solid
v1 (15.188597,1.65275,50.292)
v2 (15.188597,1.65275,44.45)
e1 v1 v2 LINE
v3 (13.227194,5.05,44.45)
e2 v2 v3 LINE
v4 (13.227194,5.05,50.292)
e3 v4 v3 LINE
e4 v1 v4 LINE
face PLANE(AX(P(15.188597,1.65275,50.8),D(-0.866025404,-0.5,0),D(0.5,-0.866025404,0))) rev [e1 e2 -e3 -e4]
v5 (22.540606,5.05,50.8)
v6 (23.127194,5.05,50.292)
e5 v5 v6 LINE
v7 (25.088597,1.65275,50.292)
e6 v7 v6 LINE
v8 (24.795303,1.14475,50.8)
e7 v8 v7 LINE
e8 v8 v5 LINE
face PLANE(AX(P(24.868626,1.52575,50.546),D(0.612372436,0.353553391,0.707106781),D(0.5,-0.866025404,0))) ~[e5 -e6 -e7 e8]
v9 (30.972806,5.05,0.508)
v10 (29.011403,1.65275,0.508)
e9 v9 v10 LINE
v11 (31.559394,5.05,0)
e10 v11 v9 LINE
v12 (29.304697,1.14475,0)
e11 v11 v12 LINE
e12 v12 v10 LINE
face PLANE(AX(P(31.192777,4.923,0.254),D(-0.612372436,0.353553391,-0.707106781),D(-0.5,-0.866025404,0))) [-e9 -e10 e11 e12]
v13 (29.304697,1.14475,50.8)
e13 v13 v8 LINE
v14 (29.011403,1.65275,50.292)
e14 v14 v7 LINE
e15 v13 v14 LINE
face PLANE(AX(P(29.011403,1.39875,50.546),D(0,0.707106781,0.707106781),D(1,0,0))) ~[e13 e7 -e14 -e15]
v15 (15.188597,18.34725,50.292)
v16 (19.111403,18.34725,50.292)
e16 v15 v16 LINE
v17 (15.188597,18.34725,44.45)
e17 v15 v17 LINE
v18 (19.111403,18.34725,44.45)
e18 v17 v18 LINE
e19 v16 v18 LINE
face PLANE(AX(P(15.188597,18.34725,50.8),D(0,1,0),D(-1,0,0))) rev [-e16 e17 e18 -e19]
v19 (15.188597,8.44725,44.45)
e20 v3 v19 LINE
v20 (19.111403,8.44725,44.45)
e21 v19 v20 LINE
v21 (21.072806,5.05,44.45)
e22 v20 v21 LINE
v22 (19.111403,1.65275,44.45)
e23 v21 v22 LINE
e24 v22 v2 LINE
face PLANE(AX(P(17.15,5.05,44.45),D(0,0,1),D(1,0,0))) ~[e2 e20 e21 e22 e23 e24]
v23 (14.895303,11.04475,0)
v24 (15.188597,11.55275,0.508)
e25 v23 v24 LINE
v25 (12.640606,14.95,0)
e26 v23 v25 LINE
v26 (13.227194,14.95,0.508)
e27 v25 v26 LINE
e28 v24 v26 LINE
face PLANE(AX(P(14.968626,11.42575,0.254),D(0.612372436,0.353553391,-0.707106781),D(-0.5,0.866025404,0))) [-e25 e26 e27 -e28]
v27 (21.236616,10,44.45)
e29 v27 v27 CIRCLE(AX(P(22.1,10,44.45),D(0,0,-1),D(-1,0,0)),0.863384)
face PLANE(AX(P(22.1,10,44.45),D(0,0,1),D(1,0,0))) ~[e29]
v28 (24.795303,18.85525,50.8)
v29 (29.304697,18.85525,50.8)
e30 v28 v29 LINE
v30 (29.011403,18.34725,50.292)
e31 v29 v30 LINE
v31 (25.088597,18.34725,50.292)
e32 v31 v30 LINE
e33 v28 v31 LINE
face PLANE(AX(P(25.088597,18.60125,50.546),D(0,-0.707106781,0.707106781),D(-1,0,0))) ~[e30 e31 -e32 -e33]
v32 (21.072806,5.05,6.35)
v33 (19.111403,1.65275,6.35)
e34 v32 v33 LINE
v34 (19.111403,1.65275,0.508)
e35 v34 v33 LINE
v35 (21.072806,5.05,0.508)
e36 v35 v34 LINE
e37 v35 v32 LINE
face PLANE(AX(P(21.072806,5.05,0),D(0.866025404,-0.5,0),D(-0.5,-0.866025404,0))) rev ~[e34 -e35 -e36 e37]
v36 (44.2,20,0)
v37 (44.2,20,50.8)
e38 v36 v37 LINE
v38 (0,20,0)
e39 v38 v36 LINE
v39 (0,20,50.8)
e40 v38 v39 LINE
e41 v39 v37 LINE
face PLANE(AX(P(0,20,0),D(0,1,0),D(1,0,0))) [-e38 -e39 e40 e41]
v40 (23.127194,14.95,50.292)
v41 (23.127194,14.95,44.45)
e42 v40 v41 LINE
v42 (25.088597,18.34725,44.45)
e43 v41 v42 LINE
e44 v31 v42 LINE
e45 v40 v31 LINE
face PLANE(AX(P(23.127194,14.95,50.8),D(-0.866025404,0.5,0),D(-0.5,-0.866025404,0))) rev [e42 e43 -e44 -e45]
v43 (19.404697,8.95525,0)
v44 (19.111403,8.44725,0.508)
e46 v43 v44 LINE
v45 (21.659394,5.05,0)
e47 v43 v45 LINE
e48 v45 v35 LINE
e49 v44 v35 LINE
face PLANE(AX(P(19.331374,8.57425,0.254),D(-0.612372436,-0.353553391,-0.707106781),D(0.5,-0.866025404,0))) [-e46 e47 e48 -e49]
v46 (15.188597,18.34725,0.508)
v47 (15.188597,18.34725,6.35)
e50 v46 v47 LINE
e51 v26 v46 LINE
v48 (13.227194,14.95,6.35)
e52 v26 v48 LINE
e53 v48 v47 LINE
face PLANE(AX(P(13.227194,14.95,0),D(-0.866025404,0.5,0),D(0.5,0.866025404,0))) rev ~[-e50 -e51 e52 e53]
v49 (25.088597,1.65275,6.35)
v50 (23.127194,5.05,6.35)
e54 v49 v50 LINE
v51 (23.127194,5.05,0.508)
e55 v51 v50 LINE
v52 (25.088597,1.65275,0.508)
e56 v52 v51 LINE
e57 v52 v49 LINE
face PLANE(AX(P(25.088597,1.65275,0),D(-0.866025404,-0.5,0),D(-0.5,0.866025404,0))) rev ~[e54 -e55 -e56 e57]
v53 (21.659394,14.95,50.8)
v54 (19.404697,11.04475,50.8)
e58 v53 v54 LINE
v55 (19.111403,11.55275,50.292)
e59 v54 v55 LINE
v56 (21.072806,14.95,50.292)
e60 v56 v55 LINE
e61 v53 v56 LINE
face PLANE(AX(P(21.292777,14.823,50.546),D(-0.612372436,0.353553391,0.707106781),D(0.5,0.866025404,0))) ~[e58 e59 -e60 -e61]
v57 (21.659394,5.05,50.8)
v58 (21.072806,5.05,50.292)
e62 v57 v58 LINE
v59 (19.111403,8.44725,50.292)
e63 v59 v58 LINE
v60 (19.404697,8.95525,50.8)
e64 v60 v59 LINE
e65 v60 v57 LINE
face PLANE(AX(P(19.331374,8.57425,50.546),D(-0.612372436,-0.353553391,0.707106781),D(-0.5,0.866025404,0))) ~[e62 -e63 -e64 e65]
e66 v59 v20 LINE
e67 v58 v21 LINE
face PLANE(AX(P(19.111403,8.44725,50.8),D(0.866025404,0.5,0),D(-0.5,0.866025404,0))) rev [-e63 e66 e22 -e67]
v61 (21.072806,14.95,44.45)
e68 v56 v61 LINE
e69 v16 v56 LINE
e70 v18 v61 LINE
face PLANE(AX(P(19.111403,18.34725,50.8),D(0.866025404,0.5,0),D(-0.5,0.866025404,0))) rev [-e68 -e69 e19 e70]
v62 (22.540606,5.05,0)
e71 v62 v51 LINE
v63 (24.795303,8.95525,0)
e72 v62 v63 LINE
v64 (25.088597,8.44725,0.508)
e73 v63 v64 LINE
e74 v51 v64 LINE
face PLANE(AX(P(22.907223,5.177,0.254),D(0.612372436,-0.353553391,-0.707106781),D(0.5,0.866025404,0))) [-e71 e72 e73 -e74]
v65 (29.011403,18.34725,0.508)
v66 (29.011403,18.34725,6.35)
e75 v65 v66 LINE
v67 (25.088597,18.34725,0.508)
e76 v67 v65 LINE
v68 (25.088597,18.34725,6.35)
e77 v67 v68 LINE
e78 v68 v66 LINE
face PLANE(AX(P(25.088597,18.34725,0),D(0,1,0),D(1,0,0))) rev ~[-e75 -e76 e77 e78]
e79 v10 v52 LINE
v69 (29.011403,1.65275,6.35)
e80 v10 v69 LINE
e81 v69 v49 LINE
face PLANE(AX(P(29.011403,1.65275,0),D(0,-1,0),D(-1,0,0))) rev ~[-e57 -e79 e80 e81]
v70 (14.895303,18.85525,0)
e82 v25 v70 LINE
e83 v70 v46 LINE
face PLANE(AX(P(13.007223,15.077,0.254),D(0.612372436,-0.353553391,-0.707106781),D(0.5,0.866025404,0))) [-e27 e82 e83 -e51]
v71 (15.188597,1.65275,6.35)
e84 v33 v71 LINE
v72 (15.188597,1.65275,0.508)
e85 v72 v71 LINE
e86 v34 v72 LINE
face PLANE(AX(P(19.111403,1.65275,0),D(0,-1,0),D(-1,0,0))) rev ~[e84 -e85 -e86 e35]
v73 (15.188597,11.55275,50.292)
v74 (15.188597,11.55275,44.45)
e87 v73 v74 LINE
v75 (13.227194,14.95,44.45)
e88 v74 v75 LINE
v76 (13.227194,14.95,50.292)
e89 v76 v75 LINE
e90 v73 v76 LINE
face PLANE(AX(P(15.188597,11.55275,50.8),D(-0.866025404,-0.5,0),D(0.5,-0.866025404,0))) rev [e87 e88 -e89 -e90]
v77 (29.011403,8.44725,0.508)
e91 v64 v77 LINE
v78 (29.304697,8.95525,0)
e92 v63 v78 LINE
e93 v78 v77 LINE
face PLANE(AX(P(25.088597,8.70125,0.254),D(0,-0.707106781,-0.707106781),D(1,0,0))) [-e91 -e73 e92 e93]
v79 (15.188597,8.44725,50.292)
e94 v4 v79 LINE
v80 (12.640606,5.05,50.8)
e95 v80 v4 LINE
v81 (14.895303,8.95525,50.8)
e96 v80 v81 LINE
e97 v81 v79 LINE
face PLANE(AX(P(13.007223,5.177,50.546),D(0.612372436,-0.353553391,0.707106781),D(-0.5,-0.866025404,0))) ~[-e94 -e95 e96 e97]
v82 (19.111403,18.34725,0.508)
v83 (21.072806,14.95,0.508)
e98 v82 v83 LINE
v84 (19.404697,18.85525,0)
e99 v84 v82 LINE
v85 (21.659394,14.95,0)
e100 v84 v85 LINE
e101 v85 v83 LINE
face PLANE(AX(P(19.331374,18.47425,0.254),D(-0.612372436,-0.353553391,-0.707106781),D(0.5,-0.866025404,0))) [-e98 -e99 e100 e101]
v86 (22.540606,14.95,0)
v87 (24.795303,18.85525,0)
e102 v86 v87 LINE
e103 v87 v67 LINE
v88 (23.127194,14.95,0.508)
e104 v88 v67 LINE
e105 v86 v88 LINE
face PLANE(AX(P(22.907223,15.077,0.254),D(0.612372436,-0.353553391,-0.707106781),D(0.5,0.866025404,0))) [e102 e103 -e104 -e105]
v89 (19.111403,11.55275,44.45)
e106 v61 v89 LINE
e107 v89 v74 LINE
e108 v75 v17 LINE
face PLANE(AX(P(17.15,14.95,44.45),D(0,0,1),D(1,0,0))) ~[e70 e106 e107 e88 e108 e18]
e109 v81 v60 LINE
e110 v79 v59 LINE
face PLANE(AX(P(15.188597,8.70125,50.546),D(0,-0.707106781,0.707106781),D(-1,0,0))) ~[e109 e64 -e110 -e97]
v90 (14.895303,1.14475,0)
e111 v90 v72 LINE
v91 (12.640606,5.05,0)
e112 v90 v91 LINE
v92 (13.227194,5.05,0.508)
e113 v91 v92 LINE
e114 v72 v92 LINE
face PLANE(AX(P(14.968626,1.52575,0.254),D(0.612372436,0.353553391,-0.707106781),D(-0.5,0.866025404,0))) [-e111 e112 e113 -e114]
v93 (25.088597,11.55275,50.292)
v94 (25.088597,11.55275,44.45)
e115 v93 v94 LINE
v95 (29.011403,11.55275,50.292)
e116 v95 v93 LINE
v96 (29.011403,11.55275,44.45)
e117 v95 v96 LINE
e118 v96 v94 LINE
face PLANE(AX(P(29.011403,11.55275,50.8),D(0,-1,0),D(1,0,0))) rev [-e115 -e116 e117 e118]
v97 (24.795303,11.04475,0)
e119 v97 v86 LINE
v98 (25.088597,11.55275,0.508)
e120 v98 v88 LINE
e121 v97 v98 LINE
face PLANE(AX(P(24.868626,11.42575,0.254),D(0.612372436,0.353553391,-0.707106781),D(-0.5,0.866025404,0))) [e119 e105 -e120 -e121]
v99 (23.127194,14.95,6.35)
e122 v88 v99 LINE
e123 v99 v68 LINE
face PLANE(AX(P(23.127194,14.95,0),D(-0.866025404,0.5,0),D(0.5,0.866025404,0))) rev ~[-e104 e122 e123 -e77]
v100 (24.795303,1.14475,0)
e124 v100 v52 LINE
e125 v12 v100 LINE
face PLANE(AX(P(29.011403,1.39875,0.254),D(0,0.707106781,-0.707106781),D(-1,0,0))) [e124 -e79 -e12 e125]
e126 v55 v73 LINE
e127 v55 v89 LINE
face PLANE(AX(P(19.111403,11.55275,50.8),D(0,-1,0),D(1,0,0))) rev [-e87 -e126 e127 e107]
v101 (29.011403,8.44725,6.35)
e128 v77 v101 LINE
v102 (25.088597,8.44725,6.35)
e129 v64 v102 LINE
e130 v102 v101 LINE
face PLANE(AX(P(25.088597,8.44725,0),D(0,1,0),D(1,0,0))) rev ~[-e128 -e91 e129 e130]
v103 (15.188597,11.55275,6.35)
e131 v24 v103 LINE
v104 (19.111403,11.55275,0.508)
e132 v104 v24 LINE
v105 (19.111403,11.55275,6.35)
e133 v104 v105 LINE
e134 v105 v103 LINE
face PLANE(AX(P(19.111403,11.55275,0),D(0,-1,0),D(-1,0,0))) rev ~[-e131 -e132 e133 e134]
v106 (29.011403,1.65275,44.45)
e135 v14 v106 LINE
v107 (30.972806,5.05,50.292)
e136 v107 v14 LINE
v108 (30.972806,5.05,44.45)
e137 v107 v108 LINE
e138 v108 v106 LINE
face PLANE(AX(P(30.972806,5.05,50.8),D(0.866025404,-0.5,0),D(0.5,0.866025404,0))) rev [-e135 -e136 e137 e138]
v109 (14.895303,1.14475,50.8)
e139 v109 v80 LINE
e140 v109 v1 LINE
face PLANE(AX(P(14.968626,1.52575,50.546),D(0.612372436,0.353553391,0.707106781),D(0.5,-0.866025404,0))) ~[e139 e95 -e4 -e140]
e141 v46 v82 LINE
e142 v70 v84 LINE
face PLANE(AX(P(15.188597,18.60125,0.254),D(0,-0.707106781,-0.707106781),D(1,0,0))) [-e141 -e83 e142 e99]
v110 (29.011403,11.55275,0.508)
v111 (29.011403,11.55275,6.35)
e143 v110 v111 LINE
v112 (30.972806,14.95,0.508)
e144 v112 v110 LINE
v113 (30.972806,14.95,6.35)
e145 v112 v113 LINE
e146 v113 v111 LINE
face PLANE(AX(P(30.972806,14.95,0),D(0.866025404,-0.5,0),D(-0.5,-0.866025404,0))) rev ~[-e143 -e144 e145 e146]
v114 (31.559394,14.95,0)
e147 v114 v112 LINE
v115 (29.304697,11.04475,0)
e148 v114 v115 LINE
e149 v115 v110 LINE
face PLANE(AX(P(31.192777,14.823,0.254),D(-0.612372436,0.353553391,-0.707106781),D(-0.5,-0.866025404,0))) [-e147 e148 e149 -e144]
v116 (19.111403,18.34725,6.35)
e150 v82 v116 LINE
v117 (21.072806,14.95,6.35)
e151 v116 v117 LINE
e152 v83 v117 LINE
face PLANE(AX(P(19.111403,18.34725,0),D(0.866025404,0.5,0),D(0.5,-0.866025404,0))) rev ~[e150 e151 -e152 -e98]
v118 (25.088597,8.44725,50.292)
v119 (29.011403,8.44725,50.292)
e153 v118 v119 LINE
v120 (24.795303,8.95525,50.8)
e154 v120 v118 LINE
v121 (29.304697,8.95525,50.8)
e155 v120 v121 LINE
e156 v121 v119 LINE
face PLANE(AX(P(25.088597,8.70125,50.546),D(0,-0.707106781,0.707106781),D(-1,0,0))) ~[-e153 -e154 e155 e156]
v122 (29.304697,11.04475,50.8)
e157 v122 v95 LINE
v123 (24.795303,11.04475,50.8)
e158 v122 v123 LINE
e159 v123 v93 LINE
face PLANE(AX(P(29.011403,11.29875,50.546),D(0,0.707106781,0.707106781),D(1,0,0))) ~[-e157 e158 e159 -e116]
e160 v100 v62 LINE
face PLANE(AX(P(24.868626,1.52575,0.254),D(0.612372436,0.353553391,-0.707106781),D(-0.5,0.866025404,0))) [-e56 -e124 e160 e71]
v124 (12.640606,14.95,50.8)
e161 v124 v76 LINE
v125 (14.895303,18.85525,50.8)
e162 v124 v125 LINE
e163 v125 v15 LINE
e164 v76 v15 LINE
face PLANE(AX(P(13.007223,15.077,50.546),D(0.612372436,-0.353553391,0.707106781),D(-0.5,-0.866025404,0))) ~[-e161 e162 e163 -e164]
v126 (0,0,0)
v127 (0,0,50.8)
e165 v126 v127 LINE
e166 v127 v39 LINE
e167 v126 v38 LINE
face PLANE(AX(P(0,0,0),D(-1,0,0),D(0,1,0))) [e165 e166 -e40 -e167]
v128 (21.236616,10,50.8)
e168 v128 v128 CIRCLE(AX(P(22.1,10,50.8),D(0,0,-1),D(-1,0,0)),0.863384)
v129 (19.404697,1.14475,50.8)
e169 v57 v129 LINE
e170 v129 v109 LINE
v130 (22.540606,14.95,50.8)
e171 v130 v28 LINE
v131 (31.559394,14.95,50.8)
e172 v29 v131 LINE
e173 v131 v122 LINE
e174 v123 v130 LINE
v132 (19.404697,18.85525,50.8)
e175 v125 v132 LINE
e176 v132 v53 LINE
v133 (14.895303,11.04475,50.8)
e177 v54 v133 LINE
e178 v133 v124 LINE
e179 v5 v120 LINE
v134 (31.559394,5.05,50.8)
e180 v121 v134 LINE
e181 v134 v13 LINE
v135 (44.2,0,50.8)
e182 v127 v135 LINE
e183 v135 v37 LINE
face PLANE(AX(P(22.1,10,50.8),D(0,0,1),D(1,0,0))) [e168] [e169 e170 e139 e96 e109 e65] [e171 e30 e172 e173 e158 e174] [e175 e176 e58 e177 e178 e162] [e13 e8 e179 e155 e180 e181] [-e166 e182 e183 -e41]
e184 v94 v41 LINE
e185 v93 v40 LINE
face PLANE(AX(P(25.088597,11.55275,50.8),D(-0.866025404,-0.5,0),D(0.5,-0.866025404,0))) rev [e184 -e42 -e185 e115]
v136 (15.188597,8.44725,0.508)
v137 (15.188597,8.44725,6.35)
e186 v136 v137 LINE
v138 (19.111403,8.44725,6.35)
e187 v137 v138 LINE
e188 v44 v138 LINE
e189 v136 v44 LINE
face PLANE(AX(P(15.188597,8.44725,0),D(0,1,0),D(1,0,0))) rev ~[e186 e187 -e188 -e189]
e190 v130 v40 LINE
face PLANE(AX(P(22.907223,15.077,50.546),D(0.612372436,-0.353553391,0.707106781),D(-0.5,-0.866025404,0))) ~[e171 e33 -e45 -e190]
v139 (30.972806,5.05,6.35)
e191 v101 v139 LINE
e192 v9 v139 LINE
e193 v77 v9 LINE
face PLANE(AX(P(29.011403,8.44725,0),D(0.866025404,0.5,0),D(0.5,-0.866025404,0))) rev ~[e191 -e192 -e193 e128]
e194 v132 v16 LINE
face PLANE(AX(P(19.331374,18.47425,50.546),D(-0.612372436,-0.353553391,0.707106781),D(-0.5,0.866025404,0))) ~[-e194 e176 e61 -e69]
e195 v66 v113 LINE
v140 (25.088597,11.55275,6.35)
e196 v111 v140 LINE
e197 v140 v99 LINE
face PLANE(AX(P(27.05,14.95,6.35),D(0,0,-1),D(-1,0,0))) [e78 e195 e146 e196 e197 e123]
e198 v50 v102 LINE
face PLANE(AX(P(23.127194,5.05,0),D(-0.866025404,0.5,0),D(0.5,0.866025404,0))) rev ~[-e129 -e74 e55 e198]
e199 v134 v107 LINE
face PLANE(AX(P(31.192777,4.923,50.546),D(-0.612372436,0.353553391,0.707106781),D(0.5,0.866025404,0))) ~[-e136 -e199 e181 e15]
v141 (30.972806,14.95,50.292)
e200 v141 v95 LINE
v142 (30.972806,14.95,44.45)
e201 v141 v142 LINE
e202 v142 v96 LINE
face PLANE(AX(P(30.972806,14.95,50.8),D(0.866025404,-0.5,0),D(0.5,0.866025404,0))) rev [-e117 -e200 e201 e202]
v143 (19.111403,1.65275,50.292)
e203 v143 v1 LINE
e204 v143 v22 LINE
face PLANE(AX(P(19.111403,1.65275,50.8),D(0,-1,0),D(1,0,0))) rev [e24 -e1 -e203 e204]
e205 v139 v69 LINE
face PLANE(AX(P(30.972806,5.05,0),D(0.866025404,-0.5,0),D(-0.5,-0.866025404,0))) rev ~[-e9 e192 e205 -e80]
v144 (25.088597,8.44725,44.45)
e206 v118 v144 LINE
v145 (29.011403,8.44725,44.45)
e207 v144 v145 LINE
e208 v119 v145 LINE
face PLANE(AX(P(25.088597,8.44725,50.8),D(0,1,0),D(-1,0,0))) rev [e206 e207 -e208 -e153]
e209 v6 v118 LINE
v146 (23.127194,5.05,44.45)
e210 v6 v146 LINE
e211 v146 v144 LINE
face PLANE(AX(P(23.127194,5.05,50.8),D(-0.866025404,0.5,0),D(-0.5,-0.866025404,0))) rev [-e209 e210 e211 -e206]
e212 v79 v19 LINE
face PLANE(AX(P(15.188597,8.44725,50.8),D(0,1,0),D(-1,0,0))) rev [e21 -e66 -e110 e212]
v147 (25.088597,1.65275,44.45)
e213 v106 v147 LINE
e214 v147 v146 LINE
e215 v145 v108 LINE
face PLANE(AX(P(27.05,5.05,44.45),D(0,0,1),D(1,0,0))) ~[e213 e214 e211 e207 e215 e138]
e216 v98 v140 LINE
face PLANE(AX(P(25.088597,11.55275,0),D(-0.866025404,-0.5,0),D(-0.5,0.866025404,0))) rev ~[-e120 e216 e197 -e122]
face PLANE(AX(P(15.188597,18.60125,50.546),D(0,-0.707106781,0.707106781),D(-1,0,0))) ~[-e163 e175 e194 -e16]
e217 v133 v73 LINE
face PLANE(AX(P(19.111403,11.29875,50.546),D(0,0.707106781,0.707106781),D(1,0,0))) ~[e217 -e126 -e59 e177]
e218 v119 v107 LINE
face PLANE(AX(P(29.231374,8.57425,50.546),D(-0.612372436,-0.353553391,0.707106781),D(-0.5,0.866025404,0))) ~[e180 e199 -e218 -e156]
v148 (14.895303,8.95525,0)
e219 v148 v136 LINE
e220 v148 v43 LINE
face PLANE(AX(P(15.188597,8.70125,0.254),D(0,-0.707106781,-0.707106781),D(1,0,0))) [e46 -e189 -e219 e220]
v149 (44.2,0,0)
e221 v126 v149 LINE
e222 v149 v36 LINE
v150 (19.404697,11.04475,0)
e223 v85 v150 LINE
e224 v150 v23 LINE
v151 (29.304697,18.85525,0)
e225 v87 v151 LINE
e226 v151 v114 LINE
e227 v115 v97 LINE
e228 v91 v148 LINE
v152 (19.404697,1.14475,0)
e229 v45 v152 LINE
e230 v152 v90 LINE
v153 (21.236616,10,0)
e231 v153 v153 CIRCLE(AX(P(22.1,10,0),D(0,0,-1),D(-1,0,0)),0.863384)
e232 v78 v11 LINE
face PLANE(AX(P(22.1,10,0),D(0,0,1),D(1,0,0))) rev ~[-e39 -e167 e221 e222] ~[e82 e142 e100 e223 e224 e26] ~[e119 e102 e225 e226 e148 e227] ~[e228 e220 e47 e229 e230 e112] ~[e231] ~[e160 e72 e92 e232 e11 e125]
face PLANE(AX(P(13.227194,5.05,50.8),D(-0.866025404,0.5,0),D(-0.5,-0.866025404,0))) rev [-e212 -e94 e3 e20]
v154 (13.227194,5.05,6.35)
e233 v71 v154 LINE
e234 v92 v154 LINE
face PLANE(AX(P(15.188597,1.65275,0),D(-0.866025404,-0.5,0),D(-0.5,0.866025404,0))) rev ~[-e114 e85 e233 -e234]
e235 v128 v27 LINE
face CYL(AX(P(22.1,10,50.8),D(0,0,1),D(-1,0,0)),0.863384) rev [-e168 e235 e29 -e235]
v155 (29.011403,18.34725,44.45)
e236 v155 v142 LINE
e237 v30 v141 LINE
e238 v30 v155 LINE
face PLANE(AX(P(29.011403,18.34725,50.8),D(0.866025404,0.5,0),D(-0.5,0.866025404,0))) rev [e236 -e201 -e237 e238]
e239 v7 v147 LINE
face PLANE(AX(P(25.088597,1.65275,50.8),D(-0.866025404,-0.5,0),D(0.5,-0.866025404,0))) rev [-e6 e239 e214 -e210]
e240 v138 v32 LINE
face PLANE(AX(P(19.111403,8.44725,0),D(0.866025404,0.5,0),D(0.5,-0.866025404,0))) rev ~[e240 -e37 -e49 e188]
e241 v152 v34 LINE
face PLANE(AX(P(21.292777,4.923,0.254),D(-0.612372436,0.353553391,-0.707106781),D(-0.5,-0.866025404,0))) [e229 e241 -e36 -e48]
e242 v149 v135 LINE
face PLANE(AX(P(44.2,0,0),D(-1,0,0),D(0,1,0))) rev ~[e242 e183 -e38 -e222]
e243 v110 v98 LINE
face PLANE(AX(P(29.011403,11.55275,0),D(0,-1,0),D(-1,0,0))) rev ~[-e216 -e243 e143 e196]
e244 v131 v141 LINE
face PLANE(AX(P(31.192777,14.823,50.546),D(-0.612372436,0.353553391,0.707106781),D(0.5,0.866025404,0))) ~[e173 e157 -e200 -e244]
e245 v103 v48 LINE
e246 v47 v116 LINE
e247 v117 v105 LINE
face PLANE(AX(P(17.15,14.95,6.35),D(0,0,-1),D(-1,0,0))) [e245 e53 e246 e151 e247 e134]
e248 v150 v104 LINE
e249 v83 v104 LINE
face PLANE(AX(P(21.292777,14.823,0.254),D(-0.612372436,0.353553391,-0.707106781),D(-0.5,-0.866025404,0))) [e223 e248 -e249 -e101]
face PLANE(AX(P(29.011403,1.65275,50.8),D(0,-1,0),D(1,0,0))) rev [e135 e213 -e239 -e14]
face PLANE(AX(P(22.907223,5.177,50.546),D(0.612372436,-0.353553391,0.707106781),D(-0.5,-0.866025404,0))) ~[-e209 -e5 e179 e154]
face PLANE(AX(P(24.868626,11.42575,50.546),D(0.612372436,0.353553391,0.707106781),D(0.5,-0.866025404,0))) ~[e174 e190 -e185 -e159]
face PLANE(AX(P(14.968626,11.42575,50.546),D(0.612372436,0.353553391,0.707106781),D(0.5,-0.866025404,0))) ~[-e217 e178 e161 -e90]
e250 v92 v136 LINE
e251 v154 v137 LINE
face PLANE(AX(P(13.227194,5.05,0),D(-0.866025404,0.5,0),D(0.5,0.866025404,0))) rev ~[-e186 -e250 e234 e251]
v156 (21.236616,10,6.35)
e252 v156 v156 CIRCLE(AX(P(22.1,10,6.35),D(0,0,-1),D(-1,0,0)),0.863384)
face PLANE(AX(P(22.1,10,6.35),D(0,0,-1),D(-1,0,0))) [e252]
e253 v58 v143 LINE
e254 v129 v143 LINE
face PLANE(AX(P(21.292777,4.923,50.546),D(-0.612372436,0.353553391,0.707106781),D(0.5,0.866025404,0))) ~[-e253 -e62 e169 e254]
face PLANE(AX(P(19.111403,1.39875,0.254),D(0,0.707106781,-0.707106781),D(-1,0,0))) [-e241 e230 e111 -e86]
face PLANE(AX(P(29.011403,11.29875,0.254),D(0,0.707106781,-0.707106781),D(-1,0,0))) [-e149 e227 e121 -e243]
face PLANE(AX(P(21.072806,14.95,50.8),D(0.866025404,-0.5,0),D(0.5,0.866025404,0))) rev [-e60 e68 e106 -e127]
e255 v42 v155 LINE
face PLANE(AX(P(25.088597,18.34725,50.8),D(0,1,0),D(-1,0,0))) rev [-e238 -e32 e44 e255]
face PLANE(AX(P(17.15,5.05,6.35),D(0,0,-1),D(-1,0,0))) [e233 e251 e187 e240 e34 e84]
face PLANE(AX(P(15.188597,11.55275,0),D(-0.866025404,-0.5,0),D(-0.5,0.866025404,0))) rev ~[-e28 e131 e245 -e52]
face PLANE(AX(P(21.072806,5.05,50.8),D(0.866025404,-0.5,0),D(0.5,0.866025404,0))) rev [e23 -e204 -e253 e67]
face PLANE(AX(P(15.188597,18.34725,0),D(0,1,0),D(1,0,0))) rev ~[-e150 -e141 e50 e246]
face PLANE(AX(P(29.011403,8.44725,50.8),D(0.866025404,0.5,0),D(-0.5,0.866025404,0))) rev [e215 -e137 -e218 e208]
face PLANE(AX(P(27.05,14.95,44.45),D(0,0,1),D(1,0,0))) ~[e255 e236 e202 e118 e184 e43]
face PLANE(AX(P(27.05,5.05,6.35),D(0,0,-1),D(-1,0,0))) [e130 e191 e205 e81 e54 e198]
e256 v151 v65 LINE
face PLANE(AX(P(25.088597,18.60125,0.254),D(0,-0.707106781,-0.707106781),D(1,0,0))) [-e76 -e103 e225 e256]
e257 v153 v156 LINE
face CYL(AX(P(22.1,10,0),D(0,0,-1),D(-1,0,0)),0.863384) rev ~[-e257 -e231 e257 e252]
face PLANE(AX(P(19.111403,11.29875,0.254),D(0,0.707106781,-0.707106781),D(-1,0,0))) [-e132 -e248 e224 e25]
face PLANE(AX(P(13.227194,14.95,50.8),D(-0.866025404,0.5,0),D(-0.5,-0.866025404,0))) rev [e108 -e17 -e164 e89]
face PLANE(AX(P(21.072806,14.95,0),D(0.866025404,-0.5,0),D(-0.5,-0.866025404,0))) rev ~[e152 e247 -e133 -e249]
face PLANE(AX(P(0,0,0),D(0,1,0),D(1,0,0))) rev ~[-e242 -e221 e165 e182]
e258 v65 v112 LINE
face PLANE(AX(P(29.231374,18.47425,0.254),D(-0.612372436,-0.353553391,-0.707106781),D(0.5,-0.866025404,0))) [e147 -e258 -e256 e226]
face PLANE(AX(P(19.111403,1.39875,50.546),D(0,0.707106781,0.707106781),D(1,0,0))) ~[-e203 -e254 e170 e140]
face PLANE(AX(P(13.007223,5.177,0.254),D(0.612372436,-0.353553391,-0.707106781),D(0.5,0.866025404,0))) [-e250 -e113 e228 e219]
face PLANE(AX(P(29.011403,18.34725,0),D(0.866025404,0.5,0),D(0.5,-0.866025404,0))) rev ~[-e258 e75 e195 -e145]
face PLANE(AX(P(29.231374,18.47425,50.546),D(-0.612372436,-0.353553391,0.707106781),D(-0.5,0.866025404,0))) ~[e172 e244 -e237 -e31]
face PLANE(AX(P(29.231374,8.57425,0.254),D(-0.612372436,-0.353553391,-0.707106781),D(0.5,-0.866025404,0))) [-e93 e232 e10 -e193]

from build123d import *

# Parameters (mm, degrees)
SKETCH1_W                = 44.2
SKETCH1_H                = 20
BOSS_EXTRUDE1_DEPTH      = 50.8
SKETCH2_R                = 0.863384433
CUT_EXTRUDE1_DEPTH       = 6.35
CHAMFER1_SIZE            = 0.508
CHAMFER1_OF_MIRROR2_SIZE = 0.508


with BuildPart() as part:
    # Sketch1 → Boss-Extrude1 (new body)
    with BuildSketch(Plane.XY):
        with Locations((22.1, 10)):
            Rectangle(SKETCH1_W, SKETCH1_H)
    extrude(amount=BOSS_EXTRUDE1_DEPTH)

    # Sketch2 → Cut-Extrude1 (cut)
    with BuildSketch(Plane(origin=(0, 0, 0), x_dir=(-1, 0, 0), z_dir=(0, 0, -1))):
        with Locations((-22.1, 10)):
            Circle(SKETCH2_R)
        Polygon((-25.088596798, 18.34725), (-29.011403202, 18.34725), (-30.972806404, 14.95), (-29.011403202, 11.55275), (-25.088596798, 11.55275), (-23.127193596, 14.95), align=None)
        Polygon((-15.188596798, 18.34725), (-19.111403202, 18.34725), (-21.072806404, 14.95), (-19.111403202, 11.55275), (-15.188596798, 11.55275), (-13.227193596, 14.95), align=None)
        Polygon((-15.188596798, 8.44725), (-19.111403202, 8.44725), (-21.072806404, 5.05), (-19.111403202, 1.65275), (-15.188596798, 1.65275), (-13.227193596, 5.05), align=None)
        Polygon((-25.088596798, 8.44725), (-29.011403202, 8.44725), (-30.972806404, 5.05), (-29.011403202, 1.65275), (-25.088596798, 1.65275), (-23.127193596, 5.05), align=None)
    cut_extrude1 = extrude(amount=-CUT_EXTRUDE1_DEPTH, mode=Mode.SUBTRACT)

    # Chamfer1
    chamfer1_edges = [part.edges().sort_by_distance(p)[0] for p in [
        (24.107895197, 6.748625, 0),
        (27.05, 8.44725, 0),
        (29.992104803, 6.748625, 0),
        (29.992104803, 3.351375, 0),
        (27.05, 1.65275, 0),
        (24.107895197, 3.351375, 0),
        (14.207895197, 6.748625, 0),
        (17.15, 8.44725, 0),
        (20.092104803, 6.748625, 0),
        (20.092104803, 3.351375, 0),
        (17.15, 1.65275, 0),
        (14.207895197, 3.351375, 0),
        (14.207895197, 16.648625, 0),
        (17.15, 18.34725, 0),
        (20.092104803, 16.648625, 0),
        (20.092104803, 13.251375, 0),
        (17.15, 11.55275, 0),
        (14.207895197, 13.251375, 0),
        (24.107895197, 16.648625, 0),
        (27.05, 18.34725, 0),
        (29.992104803, 16.648625, 0),
        (29.992104803, 13.251375, 0),
        (27.05, 11.55275, 0),
        (24.107895197, 13.251375, 0),
    ]]
    chamfer(chamfer1_edges, length=CHAMFER1_SIZE)

    # Mirror2: Cut-Extrude1 across plane
    add(cut_extrude1.mirror(Plane(origin=(0, 0, 25.4), x_dir=(1, 0, 0), z_dir=(0, 0, -1))), mode=Mode.SUBTRACT)

    # Chamfer1 of Mirror2
    chamfer1_of_mirror2_edges = [part.edges().sort_by_distance(p)[0] for p in [
        (24.107895197, 6.748625, 50.8),
        (27.05, 8.44725, 50.8),
        (29.992104803, 6.748625, 50.8),
        (29.992104803, 3.351375, 50.8),
        (27.05, 1.65275, 50.8),
        (24.107895197, 3.351375, 50.8),
        (14.207895197, 6.748625, 50.8),
        (17.15, 8.44725, 50.8),
        (20.092104803, 6.748625, 50.8),
        (20.092104803, 3.351375, 50.8),
        (17.15, 1.65275, 50.8),
        (14.207895197, 3.351375, 50.8),
        (14.207895197, 16.648625, 50.8),
        (17.15, 18.34725, 50.8),
        (20.092104803, 16.648625, 50.8),
        (20.092104803, 13.251375, 50.8),
        (17.15, 11.55275, 50.8),
        (14.207895197, 13.251375, 50.8),
        (24.107895197, 16.648625, 50.8),
        (27.05, 18.34725, 50.8),
        (29.992104803, 16.648625, 50.8),
        (29.992104803, 13.251375, 50.8),
        (27.05, 11.55275, 50.8),
        (24.107895197, 13.251375, 50.8),
    ]]
    chamfer(chamfer1_of_mirror2_edges, length=CHAMFER1_OF_MIRROR2_SIZE)


solid = part.part
